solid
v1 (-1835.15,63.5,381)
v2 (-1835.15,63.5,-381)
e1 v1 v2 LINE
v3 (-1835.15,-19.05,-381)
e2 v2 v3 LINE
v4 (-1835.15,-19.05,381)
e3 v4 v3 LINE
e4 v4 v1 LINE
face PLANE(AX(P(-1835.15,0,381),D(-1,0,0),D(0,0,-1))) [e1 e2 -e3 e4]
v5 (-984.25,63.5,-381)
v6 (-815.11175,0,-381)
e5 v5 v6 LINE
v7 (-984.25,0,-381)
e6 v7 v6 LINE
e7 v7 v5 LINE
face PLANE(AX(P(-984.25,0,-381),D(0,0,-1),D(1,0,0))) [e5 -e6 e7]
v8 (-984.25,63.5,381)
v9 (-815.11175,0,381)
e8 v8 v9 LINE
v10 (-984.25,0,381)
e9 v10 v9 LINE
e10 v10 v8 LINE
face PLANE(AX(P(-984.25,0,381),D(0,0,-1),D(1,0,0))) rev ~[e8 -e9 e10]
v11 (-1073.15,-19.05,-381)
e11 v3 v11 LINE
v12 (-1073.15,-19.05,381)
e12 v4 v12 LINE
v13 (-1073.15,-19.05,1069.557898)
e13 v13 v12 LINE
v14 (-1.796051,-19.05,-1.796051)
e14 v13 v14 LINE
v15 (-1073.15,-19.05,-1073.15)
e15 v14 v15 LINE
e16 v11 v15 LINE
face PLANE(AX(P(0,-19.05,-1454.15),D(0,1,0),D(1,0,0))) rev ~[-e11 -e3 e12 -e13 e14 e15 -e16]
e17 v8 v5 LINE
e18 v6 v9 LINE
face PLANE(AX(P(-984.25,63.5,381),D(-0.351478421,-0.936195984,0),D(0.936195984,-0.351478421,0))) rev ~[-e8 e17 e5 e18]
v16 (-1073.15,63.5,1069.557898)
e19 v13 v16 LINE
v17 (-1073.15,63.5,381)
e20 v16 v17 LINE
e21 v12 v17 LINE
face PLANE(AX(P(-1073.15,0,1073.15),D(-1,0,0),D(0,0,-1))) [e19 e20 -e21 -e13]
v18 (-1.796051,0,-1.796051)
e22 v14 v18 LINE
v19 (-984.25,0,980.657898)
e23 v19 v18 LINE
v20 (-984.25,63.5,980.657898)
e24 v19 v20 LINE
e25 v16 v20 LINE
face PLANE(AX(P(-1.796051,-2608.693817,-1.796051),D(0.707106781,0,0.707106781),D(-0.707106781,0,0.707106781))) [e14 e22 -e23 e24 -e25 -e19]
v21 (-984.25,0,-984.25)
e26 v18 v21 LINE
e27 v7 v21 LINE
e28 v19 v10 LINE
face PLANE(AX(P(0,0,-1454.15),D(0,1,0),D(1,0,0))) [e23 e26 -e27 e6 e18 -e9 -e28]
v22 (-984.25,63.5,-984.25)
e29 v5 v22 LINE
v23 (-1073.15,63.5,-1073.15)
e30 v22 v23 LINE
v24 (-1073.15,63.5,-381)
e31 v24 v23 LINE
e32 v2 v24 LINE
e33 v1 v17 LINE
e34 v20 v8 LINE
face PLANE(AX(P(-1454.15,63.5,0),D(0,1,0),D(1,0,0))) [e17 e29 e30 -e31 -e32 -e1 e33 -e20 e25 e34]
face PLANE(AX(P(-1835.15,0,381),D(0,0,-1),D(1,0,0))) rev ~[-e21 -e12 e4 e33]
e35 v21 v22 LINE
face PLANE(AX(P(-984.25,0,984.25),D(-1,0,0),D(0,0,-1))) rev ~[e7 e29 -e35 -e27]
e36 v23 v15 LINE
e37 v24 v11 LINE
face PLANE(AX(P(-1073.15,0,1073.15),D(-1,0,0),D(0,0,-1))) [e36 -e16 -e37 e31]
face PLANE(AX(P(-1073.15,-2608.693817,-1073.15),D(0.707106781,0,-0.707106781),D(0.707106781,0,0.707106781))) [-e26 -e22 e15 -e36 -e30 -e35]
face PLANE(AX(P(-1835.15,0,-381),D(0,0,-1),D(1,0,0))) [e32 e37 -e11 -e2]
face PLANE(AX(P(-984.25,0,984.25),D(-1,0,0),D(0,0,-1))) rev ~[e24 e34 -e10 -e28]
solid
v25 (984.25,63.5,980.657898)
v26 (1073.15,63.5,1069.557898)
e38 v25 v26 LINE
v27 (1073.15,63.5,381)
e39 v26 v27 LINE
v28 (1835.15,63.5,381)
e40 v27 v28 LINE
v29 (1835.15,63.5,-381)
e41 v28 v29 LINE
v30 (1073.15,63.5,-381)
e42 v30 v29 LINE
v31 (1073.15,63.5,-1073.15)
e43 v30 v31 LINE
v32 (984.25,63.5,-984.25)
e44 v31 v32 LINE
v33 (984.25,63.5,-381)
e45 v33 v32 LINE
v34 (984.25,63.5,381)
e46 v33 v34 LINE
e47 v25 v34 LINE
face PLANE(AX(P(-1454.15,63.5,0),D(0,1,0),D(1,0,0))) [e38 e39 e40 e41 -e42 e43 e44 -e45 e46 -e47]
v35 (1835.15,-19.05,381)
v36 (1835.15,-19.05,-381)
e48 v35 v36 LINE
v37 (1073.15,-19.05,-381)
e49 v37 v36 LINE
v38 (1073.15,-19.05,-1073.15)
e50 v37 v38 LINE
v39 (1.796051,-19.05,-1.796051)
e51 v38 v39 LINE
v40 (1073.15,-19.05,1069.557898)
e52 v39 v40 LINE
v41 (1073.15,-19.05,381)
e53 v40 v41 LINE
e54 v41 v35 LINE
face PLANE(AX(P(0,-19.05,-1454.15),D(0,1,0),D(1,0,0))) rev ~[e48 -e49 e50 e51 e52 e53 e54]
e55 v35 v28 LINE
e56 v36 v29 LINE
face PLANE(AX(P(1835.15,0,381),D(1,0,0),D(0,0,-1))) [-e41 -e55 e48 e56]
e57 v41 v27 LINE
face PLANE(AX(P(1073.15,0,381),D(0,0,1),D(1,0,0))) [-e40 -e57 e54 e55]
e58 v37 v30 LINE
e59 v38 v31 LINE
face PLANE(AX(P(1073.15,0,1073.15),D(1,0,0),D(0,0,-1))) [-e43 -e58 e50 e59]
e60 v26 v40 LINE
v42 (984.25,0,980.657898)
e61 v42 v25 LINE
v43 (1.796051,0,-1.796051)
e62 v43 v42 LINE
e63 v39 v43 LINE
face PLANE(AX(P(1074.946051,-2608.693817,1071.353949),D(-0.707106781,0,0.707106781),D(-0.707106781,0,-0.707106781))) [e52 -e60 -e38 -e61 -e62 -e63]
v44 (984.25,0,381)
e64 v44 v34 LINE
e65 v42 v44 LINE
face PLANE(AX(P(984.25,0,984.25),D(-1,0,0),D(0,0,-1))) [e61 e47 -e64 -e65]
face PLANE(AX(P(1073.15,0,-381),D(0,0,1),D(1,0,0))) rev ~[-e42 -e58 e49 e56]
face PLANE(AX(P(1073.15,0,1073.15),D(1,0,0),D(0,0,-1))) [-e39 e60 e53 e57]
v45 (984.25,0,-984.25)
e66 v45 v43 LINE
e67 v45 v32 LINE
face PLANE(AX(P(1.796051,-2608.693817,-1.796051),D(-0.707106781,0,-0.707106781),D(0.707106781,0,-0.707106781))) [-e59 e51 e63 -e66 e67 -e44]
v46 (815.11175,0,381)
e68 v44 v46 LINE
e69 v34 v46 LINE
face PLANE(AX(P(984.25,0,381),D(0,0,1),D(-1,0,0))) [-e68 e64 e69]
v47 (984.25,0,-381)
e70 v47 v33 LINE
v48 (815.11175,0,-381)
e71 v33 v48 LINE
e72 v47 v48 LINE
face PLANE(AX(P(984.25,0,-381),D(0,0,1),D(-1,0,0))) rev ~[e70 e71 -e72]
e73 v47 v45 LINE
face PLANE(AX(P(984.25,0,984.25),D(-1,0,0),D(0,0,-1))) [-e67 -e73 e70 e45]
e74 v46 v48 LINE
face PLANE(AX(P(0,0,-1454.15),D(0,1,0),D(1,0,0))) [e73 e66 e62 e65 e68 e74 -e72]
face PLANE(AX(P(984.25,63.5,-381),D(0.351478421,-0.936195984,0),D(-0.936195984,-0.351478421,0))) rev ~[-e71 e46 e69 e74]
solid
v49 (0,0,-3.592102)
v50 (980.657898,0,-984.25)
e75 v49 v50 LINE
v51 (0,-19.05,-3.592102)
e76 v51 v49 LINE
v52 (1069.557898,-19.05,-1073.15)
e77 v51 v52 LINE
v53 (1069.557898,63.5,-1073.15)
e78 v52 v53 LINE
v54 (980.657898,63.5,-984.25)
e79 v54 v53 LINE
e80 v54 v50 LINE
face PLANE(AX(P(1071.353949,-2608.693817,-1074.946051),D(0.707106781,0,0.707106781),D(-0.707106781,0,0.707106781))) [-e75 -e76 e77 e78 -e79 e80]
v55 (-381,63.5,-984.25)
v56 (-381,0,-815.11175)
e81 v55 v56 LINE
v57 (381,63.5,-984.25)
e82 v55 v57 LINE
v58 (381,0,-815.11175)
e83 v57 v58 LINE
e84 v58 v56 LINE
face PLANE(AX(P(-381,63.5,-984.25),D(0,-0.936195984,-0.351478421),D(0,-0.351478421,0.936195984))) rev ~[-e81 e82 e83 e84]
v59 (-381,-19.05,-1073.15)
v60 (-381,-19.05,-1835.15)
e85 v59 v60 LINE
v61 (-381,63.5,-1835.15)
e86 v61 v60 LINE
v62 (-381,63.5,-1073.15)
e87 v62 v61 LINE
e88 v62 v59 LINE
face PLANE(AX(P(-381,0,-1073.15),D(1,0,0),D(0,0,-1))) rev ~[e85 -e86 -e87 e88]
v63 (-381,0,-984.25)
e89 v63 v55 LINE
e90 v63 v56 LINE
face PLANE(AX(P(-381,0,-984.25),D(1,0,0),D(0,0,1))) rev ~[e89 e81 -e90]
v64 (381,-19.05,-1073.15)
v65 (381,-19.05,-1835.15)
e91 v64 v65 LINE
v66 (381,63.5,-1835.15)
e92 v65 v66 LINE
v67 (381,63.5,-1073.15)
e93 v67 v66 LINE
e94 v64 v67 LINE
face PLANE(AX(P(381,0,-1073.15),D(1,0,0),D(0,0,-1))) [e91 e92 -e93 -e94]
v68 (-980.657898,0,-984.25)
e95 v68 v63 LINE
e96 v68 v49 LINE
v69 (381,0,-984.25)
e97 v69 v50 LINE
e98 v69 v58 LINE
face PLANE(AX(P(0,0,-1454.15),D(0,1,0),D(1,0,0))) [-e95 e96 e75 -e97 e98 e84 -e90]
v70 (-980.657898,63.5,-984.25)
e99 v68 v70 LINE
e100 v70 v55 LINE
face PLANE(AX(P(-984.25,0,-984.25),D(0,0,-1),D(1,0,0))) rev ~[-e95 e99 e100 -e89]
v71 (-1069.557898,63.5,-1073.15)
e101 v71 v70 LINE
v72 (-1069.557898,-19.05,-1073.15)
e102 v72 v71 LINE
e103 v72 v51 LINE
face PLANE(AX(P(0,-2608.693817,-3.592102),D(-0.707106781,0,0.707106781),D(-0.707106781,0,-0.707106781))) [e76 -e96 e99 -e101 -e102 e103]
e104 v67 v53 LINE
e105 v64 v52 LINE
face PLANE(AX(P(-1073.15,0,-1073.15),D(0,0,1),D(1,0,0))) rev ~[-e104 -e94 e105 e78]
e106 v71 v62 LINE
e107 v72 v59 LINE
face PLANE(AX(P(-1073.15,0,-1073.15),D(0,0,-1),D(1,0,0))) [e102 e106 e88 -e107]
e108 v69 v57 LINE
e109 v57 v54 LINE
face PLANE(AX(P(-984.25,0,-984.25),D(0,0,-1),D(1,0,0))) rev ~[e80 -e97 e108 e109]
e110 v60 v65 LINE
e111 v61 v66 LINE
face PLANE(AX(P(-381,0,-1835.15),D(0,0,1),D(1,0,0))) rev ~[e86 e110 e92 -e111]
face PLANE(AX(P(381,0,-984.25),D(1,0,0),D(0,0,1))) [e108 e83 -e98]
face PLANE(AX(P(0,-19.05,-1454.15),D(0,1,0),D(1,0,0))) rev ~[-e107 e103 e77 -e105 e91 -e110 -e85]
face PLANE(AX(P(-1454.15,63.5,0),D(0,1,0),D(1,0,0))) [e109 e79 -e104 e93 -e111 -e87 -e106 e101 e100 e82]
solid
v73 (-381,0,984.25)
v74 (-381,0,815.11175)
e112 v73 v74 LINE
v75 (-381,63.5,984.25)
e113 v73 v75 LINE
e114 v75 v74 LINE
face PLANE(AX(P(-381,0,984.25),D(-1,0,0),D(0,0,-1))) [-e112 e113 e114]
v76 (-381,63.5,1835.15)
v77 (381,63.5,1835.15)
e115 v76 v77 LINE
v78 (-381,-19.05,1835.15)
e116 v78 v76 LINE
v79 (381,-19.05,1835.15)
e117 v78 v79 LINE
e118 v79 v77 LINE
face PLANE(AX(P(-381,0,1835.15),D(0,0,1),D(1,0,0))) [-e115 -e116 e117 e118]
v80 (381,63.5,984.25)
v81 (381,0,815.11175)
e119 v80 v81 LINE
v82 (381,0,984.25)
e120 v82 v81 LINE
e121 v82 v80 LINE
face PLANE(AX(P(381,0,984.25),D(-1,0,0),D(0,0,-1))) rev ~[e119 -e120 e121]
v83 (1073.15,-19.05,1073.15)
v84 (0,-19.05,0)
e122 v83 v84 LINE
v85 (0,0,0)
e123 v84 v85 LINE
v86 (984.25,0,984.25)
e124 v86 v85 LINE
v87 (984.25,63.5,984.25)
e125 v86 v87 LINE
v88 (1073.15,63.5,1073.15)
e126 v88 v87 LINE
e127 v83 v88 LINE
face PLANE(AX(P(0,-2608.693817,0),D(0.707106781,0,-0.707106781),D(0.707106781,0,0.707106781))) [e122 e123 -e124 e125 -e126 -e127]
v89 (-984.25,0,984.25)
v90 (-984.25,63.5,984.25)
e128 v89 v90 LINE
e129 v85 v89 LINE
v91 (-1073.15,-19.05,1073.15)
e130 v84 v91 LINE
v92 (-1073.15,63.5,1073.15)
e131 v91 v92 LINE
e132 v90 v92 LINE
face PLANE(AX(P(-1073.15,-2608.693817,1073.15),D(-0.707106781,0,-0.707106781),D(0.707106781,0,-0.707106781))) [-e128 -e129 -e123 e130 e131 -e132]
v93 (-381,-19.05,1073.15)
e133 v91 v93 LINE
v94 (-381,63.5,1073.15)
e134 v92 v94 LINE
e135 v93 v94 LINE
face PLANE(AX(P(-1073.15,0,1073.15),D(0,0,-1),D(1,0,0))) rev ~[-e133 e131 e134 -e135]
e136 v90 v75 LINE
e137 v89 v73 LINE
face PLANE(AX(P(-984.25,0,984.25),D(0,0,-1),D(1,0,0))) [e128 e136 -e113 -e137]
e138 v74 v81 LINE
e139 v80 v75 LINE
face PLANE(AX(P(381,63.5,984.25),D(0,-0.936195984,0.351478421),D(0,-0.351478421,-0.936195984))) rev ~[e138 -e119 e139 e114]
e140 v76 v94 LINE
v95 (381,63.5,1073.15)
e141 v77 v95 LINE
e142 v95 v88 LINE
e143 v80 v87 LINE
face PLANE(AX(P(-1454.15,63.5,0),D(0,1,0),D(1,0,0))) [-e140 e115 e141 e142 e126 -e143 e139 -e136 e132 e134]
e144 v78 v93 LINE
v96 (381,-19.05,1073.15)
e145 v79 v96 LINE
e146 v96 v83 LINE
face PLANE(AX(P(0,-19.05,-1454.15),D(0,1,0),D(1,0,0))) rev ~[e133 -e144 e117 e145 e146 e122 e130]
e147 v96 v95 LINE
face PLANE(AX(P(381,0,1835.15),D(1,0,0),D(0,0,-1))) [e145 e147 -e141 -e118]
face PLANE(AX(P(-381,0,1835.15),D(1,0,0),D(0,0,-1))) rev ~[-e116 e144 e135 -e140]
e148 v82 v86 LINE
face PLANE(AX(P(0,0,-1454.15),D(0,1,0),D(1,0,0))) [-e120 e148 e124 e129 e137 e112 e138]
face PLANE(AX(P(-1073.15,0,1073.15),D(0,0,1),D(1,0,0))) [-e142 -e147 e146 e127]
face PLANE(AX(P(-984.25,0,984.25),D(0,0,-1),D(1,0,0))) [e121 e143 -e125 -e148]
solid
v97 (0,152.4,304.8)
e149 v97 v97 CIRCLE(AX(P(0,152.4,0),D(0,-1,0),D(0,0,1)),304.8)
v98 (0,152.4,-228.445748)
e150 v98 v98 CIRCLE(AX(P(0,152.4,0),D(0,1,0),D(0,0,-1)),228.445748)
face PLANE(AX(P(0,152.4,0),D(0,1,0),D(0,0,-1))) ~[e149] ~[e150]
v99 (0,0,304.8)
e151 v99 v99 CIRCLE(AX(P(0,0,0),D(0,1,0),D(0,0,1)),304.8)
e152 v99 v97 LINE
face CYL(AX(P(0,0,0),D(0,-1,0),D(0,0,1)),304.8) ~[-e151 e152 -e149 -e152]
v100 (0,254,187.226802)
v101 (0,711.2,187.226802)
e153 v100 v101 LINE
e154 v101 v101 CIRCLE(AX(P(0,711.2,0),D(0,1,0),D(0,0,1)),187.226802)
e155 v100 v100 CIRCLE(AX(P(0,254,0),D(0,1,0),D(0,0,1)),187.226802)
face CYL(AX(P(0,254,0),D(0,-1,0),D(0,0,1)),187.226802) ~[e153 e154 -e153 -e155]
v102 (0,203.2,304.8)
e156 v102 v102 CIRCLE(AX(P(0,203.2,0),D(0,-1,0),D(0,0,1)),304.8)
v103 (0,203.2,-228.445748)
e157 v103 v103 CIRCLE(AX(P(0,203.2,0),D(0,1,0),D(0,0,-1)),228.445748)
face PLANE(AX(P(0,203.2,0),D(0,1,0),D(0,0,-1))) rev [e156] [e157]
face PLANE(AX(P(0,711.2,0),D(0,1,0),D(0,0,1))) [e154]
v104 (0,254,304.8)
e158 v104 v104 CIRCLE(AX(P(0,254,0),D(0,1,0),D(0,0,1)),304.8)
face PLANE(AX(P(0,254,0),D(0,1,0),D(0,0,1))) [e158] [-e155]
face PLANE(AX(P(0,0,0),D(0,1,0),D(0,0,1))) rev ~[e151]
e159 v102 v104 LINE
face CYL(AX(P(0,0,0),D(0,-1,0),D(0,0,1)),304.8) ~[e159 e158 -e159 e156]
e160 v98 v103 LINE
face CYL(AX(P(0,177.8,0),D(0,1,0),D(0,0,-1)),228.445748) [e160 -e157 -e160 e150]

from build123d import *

# Parameters (mm, degrees)
PLYWOOD_BASE_DEPTH           = 19.05
FIELD_LAYOUT_3_W             = 1968.5
FIELD_LAYOUT_3_H             = 1968.5
RAISED_BASE_DEPTH            = 63.5
FIELD_LAYOUT_4_W             = 762
FIELD_LAYOUT_4_H             = 169.138249808
RAMP_EXTRUDE_DEPTH           = 63.5
CUT_RAMP_SLOPE_REACH         = 2880.042
COPY_RAMP_SLOPE_COUNT        = 4
SKETCH5_R                    = 304.8
BOSS_EXTRUDE1_DEPTH          = 254
CUT_EXTRUDE_THIN1_DEPTH      = 2608.693817341
CUT_EXTRUDE_THIN1_DEPTH_BACK = 2608.693817341
SKETCH6_R                    = 187.226802171
BOSS_EXTRUDE2_DEPTH          = 457.2
SKETCH7_W                    = 76.354251867
SKETCH7_H                    = 50.8


with BuildPart() as part:
    # Field Layout → Plywood Base (new body)
    with BuildSketch(Plane(origin=(0, 0, 0), x_dir=(1, 0, 0), z_dir=(0, 1, 0))):
        Polygon((-381, 1073.15), (-1073.15, 1073.15), (-1073.15, 381), (-1835.15, 381), (-1835.15, -381), (-1073.15, -381), (-1073.15, -1073.15), (-381, -1073.15), (-381, -1835.15), (381, -1835.15), (381, -1073.15), (1073.15, -1073.15), (1073.15, -381), (1835.15, -381), (1835.15, 381), (1073.15, 381), (1073.15, 1073.15), (381, 1073.15), (381, 1835.15), (-381, 1835.15), align=None)
    extrude(amount=-PLYWOOD_BASE_DEPTH)

    # Field Layout<3> → Raised Base (add)
    with BuildSketch(Plane(origin=(0, 0, 0), x_dir=(1, 0, 0), z_dir=(0, 1, 0))):
        Polygon((-381, 1073.15), (-1073.15, 1073.15), (-1073.15, 381), (-1835.15, 381), (-1835.15, -381), (-1073.15, -381), (-1073.15, -1073.15), (-381, -1073.15), (-381, -1835.15), (381, -1835.15), (381, -1073.15), (1073.15, -1073.15), (1073.15, -381), (1835.15, -381), (1835.15, 381), (1073.15, 381), (1073.15, 1073.15), (381, 1073.15), (381, 1835.15), (-381, 1835.15), align=None)
        Rectangle(FIELD_LAYOUT_3_W, FIELD_LAYOUT_3_H, mode=Mode.SUBTRACT)
    extrude(amount=RAISED_BASE_DEPTH)

    # Field Layout<4> → Ramp Extrude (add)
    with BuildSketch(Plane(origin=(0, 0, 0), x_dir=(1, 0, 0), z_dir=(0, 1, 0))):
        with Locations((0, -899.680875096)):
            Rectangle(FIELD_LAYOUT_4_W, FIELD_LAYOUT_4_H)
    ramp_extrude = extrude(amount=RAMP_EXTRUDE_DEPTH)

    # Sketch3 → Cut ramp slope (cut, up to next)
    with BuildSketch(Plane(origin=(381, 0, 0), x_dir=(0, 0, -1), z_dir=(1, 0, 0)), mode=Mode.PRIVATE) as cut_ramp_slope_sk1:
        Polygon((-815.111750192, 63.5), (-984.25, 63.5), (-815.111750192, 0), align=None)
    cut_ramp_slope_tool1 = extrude(cut_ramp_slope_sk1.sketch, amount=-CUT_RAMP_SLOPE_REACH, mode=Mode.PRIVATE) & part.part
    cut_ramp_slope = cut_ramp_slope_tool1.solids().sort_by_distance((381, 42.333333, 871.491167))[0]
    add(cut_ramp_slope, mode=Mode.SUBTRACT)

    # Copy Ramp Slope: Ramp Extrude, Cut ramp slope ×4 about axis
    copy_ramp_slope_axis = Axis((0, -19.05, 0), (0, -1, 0))
    add([ramp_extrude.rotate(copy_ramp_slope_axis, i * 360 / COPY_RAMP_SLOPE_COUNT) for i in range(1, COPY_RAMP_SLOPE_COUNT)])
    add([cut_ramp_slope.rotate(copy_ramp_slope_axis, i * 360 / COPY_RAMP_SLOPE_COUNT) for i in range(1, COPY_RAMP_SLOPE_COUNT)], mode=Mode.SUBTRACT)

    # Sketch4 → Cut-Extrude-Thin1 (cut, two sides: drawn at the far end of the back side and taken through both)
    with BuildSketch(Plane(origin=(0, 0, 0), x_dir=(1, 0, 0), z_dir=(0, 1, 0)).offset(-CUT_EXTRUDE_THIN1_DEPTH_BACK)):
        Polygon((-1073.15, -1073.15), (-984.25, -984.25), (984.25, 984.25), (1073.15, 1073.15), (1071.353948776, 1074.946051224), (982.453948776, 986.046051224), (-986.046051224, -982.453948776), (-1074.946051224, -1071.353948776), align=None)
        Polygon((-1073.15, 1073.15), (-984.25, 984.25), (984.25, -984.25), (1073.15, -1073.15), (1074.946051224, -1071.353948776), (986.046051224, -982.453948776), (-982.453948776, 986.046051224), (-1071.353948776, 1074.946051224), align=None)
    extrude(amount=CUT_EXTRUDE_THIN1_DEPTH + CUT_EXTRUDE_THIN1_DEPTH_BACK, mode=Mode.SUBTRACT)


with BuildPart() as body_2:
    # Sketch5 → Boss-Extrude1 (new body)
    with BuildSketch(Plane(origin=(0, 0, 0), x_dir=(1, 0, 0), z_dir=(0, 1, 0))):
        Circle(SKETCH5_R)
    extrude(amount=BOSS_EXTRUDE1_DEPTH)

    # Sketch6 → Boss-Extrude2 (add)
    with BuildSketch(Plane(origin=(0, 254, 0), x_dir=(1, 0, 0), z_dir=(0, 1, 0))):
        Circle(SKETCH6_R)
    extrude(amount=BOSS_EXTRUDE2_DEPTH)

    # Sketch7 → Cut-Revolve1 (revolve, cut)
    with BuildSketch(Plane.XY):
        with Locations((266.622874067, 177.8)):
            Rectangle(SKETCH7_W, SKETCH7_H)
    revolve(axis=Axis((0, 0, 0), (0, 1, 0)), mode=Mode.SUBTRACT)


with BuildPart() as cut_extrude_thin1_piece_1:
    # of the separate pieces the step leaves, piece 1, a body of its own (cut_extrude_thin1_pieces)
    add(part.part.solids().sort_by_distance((0, -19.05, 0))[0])


with BuildPart() as cut_extrude_thin1_piece_2:
    # of the separate pieces the step leaves, piece 2, a body of its own (cut_extrude_thin1_pieces)
    add(part.part.solids().sort_by_distance((-1073.15, -19.05, -1073.15))[0])


with BuildPart() as cut_extrude_thin1_piece_3:
    # of the separate pieces the step leaves, piece 3, a body of its own (cut_extrude_thin1_pieces)
    add(part.part.solids().sort_by_distance((1073.15, 63.5, -381))[0])


with BuildPart() as cut_extrude_thin1_piece_4:
    # of the separate pieces the step leaves, piece 4, a body of its own (cut_extrude_thin1_pieces)
    add(part.part.solids().sort_by_distance((-381, 63.5, -1073.15))[0])


solid = Compound([body_2.part, cut_extrude_thin1_piece_1.part, cut_extrude_thin1_piece_2.part, cut_extrude_thin1_piece_3.part, cut_extrude_thin1_piece_4.part])
